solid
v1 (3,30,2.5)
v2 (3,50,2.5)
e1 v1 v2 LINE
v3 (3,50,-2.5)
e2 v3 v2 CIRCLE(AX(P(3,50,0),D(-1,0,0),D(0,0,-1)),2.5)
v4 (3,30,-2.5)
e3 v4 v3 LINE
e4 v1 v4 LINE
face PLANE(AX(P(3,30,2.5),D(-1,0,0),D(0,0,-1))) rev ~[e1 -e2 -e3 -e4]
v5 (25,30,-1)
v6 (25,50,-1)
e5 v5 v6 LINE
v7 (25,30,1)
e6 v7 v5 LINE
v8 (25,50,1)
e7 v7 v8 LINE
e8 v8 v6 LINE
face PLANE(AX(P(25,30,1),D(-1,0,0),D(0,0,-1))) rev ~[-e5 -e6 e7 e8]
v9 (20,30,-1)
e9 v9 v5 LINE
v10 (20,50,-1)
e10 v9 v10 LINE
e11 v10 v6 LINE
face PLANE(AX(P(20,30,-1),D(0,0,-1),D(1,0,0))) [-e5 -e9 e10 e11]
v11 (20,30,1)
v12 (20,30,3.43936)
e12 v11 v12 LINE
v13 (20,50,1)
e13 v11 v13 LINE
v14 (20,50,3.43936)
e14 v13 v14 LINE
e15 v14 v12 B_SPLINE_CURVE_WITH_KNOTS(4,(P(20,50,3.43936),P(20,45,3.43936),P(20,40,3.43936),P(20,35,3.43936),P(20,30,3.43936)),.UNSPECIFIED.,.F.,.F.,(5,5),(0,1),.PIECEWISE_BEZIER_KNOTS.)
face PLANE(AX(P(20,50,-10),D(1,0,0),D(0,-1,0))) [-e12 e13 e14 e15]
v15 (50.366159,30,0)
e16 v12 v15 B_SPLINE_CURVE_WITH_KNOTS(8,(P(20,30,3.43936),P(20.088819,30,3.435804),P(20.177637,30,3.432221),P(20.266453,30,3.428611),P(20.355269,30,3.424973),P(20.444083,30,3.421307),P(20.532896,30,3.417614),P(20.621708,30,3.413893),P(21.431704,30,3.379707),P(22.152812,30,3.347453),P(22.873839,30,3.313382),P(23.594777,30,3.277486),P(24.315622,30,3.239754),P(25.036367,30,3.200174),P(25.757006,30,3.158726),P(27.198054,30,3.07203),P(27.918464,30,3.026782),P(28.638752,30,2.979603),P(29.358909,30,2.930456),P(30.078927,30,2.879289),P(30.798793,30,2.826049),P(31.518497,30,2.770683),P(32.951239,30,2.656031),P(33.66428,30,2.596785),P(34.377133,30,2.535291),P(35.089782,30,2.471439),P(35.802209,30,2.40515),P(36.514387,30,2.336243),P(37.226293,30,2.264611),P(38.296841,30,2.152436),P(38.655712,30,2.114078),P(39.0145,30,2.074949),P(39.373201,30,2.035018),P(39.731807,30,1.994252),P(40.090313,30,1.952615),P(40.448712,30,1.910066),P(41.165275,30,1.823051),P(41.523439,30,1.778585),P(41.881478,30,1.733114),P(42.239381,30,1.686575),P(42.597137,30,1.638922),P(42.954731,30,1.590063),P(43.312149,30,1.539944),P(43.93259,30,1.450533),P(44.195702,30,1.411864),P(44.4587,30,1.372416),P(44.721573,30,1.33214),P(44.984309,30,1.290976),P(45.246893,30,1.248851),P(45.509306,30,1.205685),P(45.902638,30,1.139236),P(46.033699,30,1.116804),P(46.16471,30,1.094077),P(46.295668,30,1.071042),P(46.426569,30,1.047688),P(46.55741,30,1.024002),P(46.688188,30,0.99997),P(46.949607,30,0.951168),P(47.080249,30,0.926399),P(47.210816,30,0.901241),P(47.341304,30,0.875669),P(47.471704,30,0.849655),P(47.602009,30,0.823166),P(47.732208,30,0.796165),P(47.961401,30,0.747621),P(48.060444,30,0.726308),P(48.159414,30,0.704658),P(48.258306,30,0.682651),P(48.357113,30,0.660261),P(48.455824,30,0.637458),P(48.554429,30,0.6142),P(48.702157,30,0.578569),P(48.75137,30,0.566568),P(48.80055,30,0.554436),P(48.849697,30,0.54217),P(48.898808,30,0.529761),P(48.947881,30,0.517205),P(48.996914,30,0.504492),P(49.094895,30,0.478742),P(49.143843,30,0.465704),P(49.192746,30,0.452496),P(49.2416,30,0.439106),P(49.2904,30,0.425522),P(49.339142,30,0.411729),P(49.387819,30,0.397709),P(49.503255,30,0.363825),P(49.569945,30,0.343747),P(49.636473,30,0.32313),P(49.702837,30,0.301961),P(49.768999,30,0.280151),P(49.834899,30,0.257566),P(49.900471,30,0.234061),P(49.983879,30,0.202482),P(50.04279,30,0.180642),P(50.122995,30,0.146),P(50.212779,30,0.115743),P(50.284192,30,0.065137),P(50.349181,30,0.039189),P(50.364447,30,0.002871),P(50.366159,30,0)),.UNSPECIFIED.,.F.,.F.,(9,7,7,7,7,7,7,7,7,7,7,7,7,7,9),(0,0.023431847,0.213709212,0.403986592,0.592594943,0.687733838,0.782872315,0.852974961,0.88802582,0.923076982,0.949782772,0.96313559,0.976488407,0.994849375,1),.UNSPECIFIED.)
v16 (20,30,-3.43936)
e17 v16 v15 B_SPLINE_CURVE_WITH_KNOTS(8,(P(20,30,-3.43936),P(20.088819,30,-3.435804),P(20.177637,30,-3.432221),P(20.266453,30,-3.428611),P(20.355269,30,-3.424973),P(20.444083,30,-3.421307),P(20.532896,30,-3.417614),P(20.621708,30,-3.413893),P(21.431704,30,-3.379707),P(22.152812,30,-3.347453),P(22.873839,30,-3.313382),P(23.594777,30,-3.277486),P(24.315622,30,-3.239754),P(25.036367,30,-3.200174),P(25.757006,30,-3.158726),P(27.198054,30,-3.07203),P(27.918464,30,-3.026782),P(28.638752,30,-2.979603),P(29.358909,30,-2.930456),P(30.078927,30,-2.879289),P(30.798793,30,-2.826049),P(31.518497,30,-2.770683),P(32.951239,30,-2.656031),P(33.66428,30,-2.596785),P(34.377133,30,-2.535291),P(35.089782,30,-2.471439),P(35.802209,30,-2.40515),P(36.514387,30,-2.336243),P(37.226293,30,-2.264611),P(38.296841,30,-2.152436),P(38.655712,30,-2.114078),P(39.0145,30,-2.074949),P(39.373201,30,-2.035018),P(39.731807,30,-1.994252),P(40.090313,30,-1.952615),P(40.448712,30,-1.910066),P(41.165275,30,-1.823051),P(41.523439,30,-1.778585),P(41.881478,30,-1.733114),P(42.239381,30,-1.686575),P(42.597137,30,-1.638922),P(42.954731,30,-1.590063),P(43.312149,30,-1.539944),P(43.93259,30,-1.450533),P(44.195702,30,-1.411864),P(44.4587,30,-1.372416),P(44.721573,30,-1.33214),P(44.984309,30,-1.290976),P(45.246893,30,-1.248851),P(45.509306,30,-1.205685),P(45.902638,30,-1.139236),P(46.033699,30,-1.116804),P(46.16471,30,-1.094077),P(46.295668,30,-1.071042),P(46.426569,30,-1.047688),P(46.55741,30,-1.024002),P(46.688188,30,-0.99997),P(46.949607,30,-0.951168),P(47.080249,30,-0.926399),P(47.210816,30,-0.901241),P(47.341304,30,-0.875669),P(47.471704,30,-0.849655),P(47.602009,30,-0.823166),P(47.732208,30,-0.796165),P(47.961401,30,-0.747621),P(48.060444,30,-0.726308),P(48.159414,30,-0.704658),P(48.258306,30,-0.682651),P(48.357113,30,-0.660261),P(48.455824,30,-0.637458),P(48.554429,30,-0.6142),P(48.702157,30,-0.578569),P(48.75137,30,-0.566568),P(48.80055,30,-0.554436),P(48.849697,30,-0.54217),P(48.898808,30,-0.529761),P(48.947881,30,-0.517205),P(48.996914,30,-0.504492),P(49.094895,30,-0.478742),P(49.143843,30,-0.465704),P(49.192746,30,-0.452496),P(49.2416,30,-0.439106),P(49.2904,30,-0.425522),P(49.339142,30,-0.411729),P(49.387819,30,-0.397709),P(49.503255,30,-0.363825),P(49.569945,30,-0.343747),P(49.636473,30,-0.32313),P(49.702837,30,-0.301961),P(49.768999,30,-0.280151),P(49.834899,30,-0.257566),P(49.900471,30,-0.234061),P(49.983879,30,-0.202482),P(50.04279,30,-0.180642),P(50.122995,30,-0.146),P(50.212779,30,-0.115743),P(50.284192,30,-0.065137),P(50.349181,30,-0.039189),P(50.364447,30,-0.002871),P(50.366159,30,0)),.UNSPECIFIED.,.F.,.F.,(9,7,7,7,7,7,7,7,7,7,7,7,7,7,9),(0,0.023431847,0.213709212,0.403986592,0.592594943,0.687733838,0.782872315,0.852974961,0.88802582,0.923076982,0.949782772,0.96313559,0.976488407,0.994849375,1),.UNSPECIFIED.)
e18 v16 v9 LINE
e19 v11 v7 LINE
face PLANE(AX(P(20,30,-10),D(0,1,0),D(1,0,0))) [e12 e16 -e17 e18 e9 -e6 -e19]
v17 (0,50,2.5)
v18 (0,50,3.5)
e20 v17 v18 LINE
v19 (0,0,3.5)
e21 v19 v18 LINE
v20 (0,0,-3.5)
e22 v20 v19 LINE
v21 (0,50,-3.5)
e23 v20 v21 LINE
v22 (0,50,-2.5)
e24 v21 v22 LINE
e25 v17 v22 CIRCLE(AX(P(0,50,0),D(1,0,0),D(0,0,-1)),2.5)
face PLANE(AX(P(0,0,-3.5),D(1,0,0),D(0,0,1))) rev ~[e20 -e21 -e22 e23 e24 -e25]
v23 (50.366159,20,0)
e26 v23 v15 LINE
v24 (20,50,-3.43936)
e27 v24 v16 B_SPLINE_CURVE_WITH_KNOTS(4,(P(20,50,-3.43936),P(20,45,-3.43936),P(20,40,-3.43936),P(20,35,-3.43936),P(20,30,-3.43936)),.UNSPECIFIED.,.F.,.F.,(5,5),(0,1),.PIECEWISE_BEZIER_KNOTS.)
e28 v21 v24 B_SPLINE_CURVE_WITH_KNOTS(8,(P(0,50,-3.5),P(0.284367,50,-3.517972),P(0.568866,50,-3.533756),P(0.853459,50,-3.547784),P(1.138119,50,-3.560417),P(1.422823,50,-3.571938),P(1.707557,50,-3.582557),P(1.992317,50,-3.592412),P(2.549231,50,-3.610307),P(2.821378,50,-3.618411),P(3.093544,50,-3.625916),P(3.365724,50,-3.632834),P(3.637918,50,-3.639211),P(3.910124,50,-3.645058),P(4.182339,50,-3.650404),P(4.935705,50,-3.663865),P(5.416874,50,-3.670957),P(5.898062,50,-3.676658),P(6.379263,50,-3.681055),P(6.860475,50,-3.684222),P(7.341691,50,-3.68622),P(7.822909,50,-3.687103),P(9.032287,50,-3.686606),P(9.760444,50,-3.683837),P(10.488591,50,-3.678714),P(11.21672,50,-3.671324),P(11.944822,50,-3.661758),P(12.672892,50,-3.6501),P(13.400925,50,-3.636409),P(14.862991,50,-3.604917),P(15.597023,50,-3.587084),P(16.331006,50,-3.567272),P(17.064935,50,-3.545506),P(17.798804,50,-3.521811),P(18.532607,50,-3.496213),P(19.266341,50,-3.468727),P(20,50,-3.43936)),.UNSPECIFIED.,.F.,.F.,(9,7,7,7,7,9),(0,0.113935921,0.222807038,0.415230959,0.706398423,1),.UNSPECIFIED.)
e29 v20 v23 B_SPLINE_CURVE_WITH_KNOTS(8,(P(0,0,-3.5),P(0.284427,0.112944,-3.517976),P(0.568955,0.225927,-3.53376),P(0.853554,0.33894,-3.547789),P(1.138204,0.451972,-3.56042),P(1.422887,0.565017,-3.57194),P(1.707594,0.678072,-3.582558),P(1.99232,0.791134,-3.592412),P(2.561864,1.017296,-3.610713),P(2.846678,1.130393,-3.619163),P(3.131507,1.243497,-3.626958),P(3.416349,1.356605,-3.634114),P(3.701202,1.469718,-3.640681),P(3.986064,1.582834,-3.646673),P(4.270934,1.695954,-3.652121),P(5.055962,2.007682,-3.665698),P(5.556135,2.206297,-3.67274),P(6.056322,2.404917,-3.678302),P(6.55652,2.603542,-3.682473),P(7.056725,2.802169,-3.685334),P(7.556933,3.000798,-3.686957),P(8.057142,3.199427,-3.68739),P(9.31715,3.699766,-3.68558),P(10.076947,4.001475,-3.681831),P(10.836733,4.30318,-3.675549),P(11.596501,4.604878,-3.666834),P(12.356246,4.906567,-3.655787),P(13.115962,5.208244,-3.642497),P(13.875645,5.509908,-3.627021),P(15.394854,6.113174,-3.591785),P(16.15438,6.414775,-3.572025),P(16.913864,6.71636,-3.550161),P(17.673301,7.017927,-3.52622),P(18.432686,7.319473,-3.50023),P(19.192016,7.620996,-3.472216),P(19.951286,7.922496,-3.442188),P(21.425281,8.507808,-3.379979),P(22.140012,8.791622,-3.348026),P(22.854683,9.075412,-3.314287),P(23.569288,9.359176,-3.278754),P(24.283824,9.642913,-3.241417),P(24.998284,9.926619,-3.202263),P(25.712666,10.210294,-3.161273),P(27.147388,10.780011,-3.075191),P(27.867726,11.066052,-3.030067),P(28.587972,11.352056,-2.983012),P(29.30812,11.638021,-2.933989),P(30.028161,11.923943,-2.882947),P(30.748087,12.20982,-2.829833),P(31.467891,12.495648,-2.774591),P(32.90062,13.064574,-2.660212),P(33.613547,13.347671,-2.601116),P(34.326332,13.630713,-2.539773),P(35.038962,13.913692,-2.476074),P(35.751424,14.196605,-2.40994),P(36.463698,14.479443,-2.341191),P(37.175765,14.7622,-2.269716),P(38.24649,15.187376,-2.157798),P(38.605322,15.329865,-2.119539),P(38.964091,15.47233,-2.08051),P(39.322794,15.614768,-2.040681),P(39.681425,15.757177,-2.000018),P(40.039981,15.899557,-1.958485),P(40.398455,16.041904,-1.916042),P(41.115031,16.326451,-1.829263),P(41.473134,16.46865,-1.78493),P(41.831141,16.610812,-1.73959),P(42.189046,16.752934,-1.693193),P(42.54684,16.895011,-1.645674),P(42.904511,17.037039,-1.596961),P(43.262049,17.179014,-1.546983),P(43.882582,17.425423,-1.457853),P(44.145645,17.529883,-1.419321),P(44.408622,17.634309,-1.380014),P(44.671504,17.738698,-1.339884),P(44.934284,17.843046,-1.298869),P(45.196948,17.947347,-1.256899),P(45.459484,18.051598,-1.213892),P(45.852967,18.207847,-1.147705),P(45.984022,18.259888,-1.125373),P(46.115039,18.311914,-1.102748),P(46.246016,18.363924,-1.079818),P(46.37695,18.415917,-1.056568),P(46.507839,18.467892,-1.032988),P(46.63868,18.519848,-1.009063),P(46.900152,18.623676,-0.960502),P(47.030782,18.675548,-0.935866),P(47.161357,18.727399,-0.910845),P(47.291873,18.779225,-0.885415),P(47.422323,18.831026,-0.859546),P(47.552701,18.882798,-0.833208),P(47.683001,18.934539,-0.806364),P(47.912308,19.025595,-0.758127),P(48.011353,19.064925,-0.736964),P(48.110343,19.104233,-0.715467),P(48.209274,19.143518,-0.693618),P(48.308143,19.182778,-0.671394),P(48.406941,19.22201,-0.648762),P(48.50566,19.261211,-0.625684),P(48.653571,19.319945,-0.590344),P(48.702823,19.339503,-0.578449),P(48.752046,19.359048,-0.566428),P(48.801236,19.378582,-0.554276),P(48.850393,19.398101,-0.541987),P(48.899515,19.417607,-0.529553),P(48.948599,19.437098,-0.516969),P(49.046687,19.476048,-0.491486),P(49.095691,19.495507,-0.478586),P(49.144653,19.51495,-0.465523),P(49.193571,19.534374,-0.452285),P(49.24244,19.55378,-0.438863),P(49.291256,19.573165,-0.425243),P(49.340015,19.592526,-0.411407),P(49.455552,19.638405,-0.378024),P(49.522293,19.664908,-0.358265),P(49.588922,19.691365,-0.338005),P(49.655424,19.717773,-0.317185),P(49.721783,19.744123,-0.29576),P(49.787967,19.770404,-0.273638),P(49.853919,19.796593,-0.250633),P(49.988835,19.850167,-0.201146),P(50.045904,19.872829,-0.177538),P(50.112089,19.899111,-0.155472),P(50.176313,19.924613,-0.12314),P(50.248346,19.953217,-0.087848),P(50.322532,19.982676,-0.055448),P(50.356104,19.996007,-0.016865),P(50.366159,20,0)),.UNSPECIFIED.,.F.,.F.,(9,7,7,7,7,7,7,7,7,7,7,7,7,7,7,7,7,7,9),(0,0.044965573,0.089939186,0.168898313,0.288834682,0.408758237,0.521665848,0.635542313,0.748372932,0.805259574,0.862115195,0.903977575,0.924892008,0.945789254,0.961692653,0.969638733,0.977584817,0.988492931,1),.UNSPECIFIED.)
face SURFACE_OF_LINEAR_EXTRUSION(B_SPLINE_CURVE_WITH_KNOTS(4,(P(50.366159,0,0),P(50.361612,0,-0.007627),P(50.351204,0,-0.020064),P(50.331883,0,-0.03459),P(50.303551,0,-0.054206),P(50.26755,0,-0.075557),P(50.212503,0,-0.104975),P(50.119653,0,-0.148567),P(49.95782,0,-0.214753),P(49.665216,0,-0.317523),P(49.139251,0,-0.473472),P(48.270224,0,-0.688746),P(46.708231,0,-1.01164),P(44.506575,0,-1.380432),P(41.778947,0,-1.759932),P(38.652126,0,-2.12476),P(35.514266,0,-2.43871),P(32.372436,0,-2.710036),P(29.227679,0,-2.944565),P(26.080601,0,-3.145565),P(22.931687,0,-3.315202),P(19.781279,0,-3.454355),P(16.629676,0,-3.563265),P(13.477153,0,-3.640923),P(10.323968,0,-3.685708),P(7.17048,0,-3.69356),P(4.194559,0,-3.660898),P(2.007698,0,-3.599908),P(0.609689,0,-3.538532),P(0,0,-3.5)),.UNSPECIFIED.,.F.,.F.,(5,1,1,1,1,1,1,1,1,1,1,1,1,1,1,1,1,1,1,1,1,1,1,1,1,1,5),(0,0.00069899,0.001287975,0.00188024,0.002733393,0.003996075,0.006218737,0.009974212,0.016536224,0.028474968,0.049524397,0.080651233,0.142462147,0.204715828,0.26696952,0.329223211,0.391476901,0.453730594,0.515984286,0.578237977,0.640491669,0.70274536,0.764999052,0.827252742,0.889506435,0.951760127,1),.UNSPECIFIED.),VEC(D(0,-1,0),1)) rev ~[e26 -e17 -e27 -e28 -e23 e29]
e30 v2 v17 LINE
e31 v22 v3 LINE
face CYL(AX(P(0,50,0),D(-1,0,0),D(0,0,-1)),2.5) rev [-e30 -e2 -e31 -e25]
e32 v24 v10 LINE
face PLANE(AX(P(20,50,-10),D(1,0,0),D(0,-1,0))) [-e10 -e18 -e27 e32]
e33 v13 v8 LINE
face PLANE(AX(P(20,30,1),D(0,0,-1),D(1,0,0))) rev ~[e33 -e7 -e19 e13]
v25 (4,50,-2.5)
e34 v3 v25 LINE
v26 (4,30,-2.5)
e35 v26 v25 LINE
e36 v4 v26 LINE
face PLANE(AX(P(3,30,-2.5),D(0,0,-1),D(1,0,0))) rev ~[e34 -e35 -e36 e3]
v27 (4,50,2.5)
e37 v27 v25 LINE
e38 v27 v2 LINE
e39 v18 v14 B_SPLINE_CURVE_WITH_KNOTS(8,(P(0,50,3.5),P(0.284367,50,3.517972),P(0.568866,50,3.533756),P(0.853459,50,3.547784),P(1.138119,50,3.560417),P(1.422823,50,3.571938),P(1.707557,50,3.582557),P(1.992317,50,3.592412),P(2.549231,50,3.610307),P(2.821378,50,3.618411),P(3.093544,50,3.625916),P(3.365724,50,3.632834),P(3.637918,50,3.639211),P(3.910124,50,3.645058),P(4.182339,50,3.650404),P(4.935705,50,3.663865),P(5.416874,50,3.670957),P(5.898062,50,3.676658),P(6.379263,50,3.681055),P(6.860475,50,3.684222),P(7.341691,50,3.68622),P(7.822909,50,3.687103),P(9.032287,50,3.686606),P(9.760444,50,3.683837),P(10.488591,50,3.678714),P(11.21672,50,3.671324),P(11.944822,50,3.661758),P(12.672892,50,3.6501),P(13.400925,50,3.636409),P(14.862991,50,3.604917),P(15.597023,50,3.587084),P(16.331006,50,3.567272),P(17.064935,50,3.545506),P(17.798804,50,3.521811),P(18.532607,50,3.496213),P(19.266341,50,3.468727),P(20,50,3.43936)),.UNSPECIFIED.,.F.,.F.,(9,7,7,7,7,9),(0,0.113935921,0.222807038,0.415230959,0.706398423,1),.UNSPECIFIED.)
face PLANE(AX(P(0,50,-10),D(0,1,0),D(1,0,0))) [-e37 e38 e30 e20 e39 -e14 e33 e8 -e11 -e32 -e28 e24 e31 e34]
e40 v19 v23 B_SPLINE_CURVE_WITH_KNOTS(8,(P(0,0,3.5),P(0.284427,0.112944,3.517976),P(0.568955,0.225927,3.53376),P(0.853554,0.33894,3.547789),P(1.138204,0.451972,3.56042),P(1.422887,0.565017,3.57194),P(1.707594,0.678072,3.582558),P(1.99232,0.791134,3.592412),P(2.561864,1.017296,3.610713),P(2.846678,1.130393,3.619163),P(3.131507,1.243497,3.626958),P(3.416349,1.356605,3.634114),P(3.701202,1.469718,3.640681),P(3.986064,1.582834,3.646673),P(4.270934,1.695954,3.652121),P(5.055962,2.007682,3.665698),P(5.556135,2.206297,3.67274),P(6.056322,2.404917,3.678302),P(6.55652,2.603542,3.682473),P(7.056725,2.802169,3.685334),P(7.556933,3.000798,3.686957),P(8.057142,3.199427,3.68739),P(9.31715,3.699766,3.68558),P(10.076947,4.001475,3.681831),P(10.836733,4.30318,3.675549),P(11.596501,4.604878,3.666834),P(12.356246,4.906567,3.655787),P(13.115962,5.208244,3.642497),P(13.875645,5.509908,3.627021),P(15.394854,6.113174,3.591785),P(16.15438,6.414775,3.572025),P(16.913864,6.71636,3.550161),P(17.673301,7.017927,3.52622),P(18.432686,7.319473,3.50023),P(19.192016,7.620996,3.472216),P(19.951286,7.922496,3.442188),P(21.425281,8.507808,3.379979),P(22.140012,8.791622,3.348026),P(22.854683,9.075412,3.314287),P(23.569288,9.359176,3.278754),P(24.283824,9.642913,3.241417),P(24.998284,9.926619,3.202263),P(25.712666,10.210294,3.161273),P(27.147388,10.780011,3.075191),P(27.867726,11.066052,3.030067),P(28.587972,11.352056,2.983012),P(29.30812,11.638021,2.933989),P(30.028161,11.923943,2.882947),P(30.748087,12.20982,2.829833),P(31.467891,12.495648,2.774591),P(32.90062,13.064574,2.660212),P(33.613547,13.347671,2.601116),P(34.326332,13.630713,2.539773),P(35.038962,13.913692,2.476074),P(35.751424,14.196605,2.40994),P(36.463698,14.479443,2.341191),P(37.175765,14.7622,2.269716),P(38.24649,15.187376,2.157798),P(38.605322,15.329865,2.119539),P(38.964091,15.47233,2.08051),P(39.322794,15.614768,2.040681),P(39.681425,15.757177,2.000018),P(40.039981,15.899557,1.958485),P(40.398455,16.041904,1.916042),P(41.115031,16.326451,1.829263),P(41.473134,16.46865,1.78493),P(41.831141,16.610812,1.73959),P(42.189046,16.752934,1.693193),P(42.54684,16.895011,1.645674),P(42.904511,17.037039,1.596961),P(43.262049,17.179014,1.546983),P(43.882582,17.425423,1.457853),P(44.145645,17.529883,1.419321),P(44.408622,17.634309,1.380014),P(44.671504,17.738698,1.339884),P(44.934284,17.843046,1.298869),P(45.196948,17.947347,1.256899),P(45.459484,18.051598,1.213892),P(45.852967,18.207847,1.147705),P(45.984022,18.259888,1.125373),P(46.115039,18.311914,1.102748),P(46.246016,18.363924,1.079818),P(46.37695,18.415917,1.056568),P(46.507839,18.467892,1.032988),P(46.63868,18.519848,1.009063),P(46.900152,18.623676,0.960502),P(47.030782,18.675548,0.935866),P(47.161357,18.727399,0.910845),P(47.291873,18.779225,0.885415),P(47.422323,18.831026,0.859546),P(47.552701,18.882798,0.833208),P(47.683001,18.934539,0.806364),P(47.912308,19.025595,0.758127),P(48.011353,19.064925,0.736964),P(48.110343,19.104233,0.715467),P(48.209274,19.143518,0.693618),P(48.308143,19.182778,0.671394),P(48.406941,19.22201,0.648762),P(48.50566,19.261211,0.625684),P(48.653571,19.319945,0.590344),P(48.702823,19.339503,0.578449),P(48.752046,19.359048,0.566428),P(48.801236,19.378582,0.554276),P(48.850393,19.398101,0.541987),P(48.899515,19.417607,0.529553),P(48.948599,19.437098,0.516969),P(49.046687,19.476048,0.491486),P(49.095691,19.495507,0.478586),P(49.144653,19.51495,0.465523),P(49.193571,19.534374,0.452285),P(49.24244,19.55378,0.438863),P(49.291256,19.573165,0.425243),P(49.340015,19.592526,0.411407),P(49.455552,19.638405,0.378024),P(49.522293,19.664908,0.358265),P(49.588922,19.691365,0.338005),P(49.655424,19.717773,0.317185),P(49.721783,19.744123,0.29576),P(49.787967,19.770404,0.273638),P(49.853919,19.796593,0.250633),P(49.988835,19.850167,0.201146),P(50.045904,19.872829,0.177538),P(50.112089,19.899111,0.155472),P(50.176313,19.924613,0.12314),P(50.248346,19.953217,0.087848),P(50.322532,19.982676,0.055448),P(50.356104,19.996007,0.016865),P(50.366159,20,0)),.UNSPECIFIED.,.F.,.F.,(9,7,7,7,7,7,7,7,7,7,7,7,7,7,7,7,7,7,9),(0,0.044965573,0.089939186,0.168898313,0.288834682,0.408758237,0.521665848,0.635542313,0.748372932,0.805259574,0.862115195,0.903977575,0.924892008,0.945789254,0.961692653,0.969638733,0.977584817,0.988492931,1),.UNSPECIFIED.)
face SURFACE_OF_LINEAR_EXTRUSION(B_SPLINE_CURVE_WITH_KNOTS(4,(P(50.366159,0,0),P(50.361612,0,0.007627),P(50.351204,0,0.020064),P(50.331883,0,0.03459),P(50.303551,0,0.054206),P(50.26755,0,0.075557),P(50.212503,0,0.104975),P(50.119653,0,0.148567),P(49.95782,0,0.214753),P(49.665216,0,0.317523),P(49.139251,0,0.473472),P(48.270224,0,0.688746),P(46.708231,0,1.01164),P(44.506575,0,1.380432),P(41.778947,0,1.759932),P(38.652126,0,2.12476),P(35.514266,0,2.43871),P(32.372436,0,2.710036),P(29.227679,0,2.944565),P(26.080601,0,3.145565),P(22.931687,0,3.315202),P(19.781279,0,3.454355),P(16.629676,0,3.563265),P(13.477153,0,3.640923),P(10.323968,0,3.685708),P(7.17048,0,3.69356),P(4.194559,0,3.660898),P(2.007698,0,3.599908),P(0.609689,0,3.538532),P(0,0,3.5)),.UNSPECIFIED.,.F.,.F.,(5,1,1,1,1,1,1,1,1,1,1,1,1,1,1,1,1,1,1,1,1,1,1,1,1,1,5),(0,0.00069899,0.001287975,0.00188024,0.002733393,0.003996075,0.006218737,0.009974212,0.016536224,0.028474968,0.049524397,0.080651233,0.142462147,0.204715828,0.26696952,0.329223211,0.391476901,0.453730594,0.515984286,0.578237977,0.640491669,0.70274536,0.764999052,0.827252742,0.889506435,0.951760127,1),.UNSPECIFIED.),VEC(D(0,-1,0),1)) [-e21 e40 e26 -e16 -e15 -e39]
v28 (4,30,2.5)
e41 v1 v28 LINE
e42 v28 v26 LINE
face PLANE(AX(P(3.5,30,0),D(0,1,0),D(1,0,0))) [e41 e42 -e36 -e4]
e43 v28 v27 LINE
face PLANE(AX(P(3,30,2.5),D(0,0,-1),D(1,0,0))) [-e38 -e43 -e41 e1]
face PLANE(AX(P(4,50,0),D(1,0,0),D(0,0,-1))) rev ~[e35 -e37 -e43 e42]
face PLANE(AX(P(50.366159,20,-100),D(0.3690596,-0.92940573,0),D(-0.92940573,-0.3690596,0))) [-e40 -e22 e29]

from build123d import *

# Parameters (mm, degrees)
EXTRUDE_2_DEPTH          = 100
CUT_EXTRUDE_1_DEPTH      = 100
CUT_EXTRUDE_1_DEPTH_BACK = 100
CUT_EXTRUDE_2_DEPTH      = 10
CUT_EXTRUDE_2_DEPTH_BACK = 10
SKETCH_8_R               = 2.5
CUT_EXTRUDE_3_DEPTH      = 4
CUT_EXTRUDE_START        = 30
SKETCH_9_W               = 1
SKETCH_9_H               = 5
CUT_EXTRUDE_4_DEPTH      = 20
EXTRUDE_START            = 30
SKETCH_11_W              = 5
SKETCH_11_H              = 2
EXTRUDE_4_DEPTH          = 20


with BuildPart() as part:
    # 草图1 → 凸台-拉伸2 (new body)
    with BuildSketch(Plane(origin=(0, 0, 0), x_dir=(1, 0, 0), z_dir=(0, 1, 0))):
        with BuildLine():
            Line((0, 3.5), (0, -3.5))
            add(Edge.make_bspline(
                [(50.366159274, 0), (50.361611856, -0.007626809), (50.351204479, -0.02006437), (50.331882619, -0.034590016), (50.303550644, -0.054206105), (50.267550201, -0.075556608), (50.212502865, -0.10497516), (50.119653298, -0.148566943), (49.957819519, -0.214752734), (49.665215675, -0.317523283), (49.13925125, -0.473472151), (48.270224034, -0.688745908), (46.70823084, -1.011640024), (44.506574683, -1.380432353), (41.778946661, -1.759931683), (38.652126132, -2.124759538), (35.514265565, -2.438710467), (32.372435692, -2.710036408), (29.227679081, -2.944564854), (26.08060135, -3.145565261), (22.931686571, -3.315201685), (19.781279338, -3.454355095), (16.629676417, -3.563265326), (13.477153227, -3.64092263), (10.32396772, -3.685707952), (7.170479651, -3.693560136), (4.194558842, -3.660897819), (2.007697821, -3.59990808), (0.60968903, -3.538531774), (0, -3.5)],
                knots=[0, 0, 0, 0, 0, 0.00069899, 0.001287975, 0.00188024, 0.002733393, 0.003996075, 0.006218737, 0.009974212, 0.016536224, 0.028474968, 0.049524397, 0.080651233, 0.142462147, 0.204715828, 0.26696952, 0.329223211, 0.391476901, 0.453730594, 0.515984286, 0.578237977, 0.640491669, 0.70274536, 0.764999052, 0.827252742, 0.889506435, 0.951760127, 1, 1, 1, 1, 1], degree=4))
            add(Edge.make_bspline(
                [(50.366159274, 0), (50.361611856, 0.007626809), (50.351204479, 0.02006437), (50.331882619, 0.034590016), (50.303550644, 0.054206105), (50.267550201, 0.075556608), (50.212502865, 0.10497516), (50.119653298, 0.148566943), (49.957819519, 0.214752734), (49.665215675, 0.317523283), (49.13925125, 0.473472151), (48.270224034, 0.688745908), (46.70823084, 1.011640024), (44.506574683, 1.380432353), (41.778946661, 1.759931683), (38.652126132, 2.124759538), (35.514265565, 2.438710467), (32.372435692, 2.710036408), (29.227679081, 2.944564854), (26.08060135, 3.145565261), (22.931686571, 3.315201685), (19.781279338, 3.454355095), (16.629676417, 3.563265326), (13.477153227, 3.64092263), (10.32396772, 3.685707952), (7.170479651, 3.693560136), (4.194558842, 3.660897819), (2.007697821, 3.59990808), (0.60968903, 3.538531774), (0, 3.5)],
                knots=[0, 0, 0, 0, 0, 0.00069899, 0.001287975, 0.00188024, 0.002733393, 0.003996075, 0.006218737, 0.009974212, 0.016536224, 0.028474968, 0.049524397, 0.080651233, 0.142462147, 0.204715828, 0.26696952, 0.329223211, 0.391476901, 0.453730594, 0.515984286, 0.578237977, 0.640491669, 0.70274536, 0.764999052, 0.827252742, 0.889506435, 0.951760127, 1, 1, 1, 1, 1], degree=4))
        make_face()
    extrude(amount=EXTRUDE_2_DEPTH)

    # 草图3 → 切除-拉伸1 (cut, two sides: drawn at the far end of the back side and taken through both)
    with BuildSketch(Plane.XY.offset(-CUT_EXTRUDE_1_DEPTH_BACK)):
        Polygon((50.366159274, 100), (50.366159274, 80), (0, 100), align=None)
        Polygon((50.366159274, 0), (50.366159274, 20), (0, 0), align=None)
    extrude(amount=CUT_EXTRUDE_1_DEPTH + CUT_EXTRUDE_1_DEPTH_BACK, mode=Mode.SUBTRACT)

    # 草图7 → 切除-拉伸2 (cut, two sides: drawn at the far end of the back side and taken through both)
    with BuildSketch(Plane.XY.offset(-CUT_EXTRUDE_2_DEPTH_BACK)):
        Polygon((0, 50), (20, 50), (20, 30), (50.366159274, 30), (50.366159274, 80), (0, 100), align=None)
    extrude(amount=CUT_EXTRUDE_2_DEPTH + CUT_EXTRUDE_2_DEPTH_BACK, mode=Mode.SUBTRACT)

    # 草图8 → 切除-拉伸3 (cut)
    with BuildSketch(Plane(origin=(0, 0, 0), x_dir=(0, 0, -1), z_dir=(1, 0, 0))):
        with Locations((0, 50)):
            Circle(SKETCH_8_R)
    extrude(amount=CUT_EXTRUDE_3_DEPTH, mode=Mode.SUBTRACT)

    # 草图9 → 切除-拉伸4 (cut)
    with BuildSketch(Plane(origin=(0, 0, 0), x_dir=(1, 0, 0), z_dir=(0, 1, 0)).offset(CUT_EXTRUDE_START)):
        with Locations((3.5, 0)):
            Rectangle(SKETCH_9_W, SKETCH_9_H)
    extrude(amount=CUT_EXTRUDE_4_DEPTH, mode=Mode.SUBTRACT)

    # 草图11 → 凸台-拉伸4 (add)
    with BuildSketch(Plane(origin=(0, 0, 0), x_dir=(1, 0, 0), z_dir=(0, 1, 0)).offset(EXTRUDE_START)):
        with Locations((22.5, 0)):
            Rectangle(SKETCH_11_W, SKETCH_11_H)
    extrude(amount=EXTRUDE_4_DEPTH)


solid = part.part
